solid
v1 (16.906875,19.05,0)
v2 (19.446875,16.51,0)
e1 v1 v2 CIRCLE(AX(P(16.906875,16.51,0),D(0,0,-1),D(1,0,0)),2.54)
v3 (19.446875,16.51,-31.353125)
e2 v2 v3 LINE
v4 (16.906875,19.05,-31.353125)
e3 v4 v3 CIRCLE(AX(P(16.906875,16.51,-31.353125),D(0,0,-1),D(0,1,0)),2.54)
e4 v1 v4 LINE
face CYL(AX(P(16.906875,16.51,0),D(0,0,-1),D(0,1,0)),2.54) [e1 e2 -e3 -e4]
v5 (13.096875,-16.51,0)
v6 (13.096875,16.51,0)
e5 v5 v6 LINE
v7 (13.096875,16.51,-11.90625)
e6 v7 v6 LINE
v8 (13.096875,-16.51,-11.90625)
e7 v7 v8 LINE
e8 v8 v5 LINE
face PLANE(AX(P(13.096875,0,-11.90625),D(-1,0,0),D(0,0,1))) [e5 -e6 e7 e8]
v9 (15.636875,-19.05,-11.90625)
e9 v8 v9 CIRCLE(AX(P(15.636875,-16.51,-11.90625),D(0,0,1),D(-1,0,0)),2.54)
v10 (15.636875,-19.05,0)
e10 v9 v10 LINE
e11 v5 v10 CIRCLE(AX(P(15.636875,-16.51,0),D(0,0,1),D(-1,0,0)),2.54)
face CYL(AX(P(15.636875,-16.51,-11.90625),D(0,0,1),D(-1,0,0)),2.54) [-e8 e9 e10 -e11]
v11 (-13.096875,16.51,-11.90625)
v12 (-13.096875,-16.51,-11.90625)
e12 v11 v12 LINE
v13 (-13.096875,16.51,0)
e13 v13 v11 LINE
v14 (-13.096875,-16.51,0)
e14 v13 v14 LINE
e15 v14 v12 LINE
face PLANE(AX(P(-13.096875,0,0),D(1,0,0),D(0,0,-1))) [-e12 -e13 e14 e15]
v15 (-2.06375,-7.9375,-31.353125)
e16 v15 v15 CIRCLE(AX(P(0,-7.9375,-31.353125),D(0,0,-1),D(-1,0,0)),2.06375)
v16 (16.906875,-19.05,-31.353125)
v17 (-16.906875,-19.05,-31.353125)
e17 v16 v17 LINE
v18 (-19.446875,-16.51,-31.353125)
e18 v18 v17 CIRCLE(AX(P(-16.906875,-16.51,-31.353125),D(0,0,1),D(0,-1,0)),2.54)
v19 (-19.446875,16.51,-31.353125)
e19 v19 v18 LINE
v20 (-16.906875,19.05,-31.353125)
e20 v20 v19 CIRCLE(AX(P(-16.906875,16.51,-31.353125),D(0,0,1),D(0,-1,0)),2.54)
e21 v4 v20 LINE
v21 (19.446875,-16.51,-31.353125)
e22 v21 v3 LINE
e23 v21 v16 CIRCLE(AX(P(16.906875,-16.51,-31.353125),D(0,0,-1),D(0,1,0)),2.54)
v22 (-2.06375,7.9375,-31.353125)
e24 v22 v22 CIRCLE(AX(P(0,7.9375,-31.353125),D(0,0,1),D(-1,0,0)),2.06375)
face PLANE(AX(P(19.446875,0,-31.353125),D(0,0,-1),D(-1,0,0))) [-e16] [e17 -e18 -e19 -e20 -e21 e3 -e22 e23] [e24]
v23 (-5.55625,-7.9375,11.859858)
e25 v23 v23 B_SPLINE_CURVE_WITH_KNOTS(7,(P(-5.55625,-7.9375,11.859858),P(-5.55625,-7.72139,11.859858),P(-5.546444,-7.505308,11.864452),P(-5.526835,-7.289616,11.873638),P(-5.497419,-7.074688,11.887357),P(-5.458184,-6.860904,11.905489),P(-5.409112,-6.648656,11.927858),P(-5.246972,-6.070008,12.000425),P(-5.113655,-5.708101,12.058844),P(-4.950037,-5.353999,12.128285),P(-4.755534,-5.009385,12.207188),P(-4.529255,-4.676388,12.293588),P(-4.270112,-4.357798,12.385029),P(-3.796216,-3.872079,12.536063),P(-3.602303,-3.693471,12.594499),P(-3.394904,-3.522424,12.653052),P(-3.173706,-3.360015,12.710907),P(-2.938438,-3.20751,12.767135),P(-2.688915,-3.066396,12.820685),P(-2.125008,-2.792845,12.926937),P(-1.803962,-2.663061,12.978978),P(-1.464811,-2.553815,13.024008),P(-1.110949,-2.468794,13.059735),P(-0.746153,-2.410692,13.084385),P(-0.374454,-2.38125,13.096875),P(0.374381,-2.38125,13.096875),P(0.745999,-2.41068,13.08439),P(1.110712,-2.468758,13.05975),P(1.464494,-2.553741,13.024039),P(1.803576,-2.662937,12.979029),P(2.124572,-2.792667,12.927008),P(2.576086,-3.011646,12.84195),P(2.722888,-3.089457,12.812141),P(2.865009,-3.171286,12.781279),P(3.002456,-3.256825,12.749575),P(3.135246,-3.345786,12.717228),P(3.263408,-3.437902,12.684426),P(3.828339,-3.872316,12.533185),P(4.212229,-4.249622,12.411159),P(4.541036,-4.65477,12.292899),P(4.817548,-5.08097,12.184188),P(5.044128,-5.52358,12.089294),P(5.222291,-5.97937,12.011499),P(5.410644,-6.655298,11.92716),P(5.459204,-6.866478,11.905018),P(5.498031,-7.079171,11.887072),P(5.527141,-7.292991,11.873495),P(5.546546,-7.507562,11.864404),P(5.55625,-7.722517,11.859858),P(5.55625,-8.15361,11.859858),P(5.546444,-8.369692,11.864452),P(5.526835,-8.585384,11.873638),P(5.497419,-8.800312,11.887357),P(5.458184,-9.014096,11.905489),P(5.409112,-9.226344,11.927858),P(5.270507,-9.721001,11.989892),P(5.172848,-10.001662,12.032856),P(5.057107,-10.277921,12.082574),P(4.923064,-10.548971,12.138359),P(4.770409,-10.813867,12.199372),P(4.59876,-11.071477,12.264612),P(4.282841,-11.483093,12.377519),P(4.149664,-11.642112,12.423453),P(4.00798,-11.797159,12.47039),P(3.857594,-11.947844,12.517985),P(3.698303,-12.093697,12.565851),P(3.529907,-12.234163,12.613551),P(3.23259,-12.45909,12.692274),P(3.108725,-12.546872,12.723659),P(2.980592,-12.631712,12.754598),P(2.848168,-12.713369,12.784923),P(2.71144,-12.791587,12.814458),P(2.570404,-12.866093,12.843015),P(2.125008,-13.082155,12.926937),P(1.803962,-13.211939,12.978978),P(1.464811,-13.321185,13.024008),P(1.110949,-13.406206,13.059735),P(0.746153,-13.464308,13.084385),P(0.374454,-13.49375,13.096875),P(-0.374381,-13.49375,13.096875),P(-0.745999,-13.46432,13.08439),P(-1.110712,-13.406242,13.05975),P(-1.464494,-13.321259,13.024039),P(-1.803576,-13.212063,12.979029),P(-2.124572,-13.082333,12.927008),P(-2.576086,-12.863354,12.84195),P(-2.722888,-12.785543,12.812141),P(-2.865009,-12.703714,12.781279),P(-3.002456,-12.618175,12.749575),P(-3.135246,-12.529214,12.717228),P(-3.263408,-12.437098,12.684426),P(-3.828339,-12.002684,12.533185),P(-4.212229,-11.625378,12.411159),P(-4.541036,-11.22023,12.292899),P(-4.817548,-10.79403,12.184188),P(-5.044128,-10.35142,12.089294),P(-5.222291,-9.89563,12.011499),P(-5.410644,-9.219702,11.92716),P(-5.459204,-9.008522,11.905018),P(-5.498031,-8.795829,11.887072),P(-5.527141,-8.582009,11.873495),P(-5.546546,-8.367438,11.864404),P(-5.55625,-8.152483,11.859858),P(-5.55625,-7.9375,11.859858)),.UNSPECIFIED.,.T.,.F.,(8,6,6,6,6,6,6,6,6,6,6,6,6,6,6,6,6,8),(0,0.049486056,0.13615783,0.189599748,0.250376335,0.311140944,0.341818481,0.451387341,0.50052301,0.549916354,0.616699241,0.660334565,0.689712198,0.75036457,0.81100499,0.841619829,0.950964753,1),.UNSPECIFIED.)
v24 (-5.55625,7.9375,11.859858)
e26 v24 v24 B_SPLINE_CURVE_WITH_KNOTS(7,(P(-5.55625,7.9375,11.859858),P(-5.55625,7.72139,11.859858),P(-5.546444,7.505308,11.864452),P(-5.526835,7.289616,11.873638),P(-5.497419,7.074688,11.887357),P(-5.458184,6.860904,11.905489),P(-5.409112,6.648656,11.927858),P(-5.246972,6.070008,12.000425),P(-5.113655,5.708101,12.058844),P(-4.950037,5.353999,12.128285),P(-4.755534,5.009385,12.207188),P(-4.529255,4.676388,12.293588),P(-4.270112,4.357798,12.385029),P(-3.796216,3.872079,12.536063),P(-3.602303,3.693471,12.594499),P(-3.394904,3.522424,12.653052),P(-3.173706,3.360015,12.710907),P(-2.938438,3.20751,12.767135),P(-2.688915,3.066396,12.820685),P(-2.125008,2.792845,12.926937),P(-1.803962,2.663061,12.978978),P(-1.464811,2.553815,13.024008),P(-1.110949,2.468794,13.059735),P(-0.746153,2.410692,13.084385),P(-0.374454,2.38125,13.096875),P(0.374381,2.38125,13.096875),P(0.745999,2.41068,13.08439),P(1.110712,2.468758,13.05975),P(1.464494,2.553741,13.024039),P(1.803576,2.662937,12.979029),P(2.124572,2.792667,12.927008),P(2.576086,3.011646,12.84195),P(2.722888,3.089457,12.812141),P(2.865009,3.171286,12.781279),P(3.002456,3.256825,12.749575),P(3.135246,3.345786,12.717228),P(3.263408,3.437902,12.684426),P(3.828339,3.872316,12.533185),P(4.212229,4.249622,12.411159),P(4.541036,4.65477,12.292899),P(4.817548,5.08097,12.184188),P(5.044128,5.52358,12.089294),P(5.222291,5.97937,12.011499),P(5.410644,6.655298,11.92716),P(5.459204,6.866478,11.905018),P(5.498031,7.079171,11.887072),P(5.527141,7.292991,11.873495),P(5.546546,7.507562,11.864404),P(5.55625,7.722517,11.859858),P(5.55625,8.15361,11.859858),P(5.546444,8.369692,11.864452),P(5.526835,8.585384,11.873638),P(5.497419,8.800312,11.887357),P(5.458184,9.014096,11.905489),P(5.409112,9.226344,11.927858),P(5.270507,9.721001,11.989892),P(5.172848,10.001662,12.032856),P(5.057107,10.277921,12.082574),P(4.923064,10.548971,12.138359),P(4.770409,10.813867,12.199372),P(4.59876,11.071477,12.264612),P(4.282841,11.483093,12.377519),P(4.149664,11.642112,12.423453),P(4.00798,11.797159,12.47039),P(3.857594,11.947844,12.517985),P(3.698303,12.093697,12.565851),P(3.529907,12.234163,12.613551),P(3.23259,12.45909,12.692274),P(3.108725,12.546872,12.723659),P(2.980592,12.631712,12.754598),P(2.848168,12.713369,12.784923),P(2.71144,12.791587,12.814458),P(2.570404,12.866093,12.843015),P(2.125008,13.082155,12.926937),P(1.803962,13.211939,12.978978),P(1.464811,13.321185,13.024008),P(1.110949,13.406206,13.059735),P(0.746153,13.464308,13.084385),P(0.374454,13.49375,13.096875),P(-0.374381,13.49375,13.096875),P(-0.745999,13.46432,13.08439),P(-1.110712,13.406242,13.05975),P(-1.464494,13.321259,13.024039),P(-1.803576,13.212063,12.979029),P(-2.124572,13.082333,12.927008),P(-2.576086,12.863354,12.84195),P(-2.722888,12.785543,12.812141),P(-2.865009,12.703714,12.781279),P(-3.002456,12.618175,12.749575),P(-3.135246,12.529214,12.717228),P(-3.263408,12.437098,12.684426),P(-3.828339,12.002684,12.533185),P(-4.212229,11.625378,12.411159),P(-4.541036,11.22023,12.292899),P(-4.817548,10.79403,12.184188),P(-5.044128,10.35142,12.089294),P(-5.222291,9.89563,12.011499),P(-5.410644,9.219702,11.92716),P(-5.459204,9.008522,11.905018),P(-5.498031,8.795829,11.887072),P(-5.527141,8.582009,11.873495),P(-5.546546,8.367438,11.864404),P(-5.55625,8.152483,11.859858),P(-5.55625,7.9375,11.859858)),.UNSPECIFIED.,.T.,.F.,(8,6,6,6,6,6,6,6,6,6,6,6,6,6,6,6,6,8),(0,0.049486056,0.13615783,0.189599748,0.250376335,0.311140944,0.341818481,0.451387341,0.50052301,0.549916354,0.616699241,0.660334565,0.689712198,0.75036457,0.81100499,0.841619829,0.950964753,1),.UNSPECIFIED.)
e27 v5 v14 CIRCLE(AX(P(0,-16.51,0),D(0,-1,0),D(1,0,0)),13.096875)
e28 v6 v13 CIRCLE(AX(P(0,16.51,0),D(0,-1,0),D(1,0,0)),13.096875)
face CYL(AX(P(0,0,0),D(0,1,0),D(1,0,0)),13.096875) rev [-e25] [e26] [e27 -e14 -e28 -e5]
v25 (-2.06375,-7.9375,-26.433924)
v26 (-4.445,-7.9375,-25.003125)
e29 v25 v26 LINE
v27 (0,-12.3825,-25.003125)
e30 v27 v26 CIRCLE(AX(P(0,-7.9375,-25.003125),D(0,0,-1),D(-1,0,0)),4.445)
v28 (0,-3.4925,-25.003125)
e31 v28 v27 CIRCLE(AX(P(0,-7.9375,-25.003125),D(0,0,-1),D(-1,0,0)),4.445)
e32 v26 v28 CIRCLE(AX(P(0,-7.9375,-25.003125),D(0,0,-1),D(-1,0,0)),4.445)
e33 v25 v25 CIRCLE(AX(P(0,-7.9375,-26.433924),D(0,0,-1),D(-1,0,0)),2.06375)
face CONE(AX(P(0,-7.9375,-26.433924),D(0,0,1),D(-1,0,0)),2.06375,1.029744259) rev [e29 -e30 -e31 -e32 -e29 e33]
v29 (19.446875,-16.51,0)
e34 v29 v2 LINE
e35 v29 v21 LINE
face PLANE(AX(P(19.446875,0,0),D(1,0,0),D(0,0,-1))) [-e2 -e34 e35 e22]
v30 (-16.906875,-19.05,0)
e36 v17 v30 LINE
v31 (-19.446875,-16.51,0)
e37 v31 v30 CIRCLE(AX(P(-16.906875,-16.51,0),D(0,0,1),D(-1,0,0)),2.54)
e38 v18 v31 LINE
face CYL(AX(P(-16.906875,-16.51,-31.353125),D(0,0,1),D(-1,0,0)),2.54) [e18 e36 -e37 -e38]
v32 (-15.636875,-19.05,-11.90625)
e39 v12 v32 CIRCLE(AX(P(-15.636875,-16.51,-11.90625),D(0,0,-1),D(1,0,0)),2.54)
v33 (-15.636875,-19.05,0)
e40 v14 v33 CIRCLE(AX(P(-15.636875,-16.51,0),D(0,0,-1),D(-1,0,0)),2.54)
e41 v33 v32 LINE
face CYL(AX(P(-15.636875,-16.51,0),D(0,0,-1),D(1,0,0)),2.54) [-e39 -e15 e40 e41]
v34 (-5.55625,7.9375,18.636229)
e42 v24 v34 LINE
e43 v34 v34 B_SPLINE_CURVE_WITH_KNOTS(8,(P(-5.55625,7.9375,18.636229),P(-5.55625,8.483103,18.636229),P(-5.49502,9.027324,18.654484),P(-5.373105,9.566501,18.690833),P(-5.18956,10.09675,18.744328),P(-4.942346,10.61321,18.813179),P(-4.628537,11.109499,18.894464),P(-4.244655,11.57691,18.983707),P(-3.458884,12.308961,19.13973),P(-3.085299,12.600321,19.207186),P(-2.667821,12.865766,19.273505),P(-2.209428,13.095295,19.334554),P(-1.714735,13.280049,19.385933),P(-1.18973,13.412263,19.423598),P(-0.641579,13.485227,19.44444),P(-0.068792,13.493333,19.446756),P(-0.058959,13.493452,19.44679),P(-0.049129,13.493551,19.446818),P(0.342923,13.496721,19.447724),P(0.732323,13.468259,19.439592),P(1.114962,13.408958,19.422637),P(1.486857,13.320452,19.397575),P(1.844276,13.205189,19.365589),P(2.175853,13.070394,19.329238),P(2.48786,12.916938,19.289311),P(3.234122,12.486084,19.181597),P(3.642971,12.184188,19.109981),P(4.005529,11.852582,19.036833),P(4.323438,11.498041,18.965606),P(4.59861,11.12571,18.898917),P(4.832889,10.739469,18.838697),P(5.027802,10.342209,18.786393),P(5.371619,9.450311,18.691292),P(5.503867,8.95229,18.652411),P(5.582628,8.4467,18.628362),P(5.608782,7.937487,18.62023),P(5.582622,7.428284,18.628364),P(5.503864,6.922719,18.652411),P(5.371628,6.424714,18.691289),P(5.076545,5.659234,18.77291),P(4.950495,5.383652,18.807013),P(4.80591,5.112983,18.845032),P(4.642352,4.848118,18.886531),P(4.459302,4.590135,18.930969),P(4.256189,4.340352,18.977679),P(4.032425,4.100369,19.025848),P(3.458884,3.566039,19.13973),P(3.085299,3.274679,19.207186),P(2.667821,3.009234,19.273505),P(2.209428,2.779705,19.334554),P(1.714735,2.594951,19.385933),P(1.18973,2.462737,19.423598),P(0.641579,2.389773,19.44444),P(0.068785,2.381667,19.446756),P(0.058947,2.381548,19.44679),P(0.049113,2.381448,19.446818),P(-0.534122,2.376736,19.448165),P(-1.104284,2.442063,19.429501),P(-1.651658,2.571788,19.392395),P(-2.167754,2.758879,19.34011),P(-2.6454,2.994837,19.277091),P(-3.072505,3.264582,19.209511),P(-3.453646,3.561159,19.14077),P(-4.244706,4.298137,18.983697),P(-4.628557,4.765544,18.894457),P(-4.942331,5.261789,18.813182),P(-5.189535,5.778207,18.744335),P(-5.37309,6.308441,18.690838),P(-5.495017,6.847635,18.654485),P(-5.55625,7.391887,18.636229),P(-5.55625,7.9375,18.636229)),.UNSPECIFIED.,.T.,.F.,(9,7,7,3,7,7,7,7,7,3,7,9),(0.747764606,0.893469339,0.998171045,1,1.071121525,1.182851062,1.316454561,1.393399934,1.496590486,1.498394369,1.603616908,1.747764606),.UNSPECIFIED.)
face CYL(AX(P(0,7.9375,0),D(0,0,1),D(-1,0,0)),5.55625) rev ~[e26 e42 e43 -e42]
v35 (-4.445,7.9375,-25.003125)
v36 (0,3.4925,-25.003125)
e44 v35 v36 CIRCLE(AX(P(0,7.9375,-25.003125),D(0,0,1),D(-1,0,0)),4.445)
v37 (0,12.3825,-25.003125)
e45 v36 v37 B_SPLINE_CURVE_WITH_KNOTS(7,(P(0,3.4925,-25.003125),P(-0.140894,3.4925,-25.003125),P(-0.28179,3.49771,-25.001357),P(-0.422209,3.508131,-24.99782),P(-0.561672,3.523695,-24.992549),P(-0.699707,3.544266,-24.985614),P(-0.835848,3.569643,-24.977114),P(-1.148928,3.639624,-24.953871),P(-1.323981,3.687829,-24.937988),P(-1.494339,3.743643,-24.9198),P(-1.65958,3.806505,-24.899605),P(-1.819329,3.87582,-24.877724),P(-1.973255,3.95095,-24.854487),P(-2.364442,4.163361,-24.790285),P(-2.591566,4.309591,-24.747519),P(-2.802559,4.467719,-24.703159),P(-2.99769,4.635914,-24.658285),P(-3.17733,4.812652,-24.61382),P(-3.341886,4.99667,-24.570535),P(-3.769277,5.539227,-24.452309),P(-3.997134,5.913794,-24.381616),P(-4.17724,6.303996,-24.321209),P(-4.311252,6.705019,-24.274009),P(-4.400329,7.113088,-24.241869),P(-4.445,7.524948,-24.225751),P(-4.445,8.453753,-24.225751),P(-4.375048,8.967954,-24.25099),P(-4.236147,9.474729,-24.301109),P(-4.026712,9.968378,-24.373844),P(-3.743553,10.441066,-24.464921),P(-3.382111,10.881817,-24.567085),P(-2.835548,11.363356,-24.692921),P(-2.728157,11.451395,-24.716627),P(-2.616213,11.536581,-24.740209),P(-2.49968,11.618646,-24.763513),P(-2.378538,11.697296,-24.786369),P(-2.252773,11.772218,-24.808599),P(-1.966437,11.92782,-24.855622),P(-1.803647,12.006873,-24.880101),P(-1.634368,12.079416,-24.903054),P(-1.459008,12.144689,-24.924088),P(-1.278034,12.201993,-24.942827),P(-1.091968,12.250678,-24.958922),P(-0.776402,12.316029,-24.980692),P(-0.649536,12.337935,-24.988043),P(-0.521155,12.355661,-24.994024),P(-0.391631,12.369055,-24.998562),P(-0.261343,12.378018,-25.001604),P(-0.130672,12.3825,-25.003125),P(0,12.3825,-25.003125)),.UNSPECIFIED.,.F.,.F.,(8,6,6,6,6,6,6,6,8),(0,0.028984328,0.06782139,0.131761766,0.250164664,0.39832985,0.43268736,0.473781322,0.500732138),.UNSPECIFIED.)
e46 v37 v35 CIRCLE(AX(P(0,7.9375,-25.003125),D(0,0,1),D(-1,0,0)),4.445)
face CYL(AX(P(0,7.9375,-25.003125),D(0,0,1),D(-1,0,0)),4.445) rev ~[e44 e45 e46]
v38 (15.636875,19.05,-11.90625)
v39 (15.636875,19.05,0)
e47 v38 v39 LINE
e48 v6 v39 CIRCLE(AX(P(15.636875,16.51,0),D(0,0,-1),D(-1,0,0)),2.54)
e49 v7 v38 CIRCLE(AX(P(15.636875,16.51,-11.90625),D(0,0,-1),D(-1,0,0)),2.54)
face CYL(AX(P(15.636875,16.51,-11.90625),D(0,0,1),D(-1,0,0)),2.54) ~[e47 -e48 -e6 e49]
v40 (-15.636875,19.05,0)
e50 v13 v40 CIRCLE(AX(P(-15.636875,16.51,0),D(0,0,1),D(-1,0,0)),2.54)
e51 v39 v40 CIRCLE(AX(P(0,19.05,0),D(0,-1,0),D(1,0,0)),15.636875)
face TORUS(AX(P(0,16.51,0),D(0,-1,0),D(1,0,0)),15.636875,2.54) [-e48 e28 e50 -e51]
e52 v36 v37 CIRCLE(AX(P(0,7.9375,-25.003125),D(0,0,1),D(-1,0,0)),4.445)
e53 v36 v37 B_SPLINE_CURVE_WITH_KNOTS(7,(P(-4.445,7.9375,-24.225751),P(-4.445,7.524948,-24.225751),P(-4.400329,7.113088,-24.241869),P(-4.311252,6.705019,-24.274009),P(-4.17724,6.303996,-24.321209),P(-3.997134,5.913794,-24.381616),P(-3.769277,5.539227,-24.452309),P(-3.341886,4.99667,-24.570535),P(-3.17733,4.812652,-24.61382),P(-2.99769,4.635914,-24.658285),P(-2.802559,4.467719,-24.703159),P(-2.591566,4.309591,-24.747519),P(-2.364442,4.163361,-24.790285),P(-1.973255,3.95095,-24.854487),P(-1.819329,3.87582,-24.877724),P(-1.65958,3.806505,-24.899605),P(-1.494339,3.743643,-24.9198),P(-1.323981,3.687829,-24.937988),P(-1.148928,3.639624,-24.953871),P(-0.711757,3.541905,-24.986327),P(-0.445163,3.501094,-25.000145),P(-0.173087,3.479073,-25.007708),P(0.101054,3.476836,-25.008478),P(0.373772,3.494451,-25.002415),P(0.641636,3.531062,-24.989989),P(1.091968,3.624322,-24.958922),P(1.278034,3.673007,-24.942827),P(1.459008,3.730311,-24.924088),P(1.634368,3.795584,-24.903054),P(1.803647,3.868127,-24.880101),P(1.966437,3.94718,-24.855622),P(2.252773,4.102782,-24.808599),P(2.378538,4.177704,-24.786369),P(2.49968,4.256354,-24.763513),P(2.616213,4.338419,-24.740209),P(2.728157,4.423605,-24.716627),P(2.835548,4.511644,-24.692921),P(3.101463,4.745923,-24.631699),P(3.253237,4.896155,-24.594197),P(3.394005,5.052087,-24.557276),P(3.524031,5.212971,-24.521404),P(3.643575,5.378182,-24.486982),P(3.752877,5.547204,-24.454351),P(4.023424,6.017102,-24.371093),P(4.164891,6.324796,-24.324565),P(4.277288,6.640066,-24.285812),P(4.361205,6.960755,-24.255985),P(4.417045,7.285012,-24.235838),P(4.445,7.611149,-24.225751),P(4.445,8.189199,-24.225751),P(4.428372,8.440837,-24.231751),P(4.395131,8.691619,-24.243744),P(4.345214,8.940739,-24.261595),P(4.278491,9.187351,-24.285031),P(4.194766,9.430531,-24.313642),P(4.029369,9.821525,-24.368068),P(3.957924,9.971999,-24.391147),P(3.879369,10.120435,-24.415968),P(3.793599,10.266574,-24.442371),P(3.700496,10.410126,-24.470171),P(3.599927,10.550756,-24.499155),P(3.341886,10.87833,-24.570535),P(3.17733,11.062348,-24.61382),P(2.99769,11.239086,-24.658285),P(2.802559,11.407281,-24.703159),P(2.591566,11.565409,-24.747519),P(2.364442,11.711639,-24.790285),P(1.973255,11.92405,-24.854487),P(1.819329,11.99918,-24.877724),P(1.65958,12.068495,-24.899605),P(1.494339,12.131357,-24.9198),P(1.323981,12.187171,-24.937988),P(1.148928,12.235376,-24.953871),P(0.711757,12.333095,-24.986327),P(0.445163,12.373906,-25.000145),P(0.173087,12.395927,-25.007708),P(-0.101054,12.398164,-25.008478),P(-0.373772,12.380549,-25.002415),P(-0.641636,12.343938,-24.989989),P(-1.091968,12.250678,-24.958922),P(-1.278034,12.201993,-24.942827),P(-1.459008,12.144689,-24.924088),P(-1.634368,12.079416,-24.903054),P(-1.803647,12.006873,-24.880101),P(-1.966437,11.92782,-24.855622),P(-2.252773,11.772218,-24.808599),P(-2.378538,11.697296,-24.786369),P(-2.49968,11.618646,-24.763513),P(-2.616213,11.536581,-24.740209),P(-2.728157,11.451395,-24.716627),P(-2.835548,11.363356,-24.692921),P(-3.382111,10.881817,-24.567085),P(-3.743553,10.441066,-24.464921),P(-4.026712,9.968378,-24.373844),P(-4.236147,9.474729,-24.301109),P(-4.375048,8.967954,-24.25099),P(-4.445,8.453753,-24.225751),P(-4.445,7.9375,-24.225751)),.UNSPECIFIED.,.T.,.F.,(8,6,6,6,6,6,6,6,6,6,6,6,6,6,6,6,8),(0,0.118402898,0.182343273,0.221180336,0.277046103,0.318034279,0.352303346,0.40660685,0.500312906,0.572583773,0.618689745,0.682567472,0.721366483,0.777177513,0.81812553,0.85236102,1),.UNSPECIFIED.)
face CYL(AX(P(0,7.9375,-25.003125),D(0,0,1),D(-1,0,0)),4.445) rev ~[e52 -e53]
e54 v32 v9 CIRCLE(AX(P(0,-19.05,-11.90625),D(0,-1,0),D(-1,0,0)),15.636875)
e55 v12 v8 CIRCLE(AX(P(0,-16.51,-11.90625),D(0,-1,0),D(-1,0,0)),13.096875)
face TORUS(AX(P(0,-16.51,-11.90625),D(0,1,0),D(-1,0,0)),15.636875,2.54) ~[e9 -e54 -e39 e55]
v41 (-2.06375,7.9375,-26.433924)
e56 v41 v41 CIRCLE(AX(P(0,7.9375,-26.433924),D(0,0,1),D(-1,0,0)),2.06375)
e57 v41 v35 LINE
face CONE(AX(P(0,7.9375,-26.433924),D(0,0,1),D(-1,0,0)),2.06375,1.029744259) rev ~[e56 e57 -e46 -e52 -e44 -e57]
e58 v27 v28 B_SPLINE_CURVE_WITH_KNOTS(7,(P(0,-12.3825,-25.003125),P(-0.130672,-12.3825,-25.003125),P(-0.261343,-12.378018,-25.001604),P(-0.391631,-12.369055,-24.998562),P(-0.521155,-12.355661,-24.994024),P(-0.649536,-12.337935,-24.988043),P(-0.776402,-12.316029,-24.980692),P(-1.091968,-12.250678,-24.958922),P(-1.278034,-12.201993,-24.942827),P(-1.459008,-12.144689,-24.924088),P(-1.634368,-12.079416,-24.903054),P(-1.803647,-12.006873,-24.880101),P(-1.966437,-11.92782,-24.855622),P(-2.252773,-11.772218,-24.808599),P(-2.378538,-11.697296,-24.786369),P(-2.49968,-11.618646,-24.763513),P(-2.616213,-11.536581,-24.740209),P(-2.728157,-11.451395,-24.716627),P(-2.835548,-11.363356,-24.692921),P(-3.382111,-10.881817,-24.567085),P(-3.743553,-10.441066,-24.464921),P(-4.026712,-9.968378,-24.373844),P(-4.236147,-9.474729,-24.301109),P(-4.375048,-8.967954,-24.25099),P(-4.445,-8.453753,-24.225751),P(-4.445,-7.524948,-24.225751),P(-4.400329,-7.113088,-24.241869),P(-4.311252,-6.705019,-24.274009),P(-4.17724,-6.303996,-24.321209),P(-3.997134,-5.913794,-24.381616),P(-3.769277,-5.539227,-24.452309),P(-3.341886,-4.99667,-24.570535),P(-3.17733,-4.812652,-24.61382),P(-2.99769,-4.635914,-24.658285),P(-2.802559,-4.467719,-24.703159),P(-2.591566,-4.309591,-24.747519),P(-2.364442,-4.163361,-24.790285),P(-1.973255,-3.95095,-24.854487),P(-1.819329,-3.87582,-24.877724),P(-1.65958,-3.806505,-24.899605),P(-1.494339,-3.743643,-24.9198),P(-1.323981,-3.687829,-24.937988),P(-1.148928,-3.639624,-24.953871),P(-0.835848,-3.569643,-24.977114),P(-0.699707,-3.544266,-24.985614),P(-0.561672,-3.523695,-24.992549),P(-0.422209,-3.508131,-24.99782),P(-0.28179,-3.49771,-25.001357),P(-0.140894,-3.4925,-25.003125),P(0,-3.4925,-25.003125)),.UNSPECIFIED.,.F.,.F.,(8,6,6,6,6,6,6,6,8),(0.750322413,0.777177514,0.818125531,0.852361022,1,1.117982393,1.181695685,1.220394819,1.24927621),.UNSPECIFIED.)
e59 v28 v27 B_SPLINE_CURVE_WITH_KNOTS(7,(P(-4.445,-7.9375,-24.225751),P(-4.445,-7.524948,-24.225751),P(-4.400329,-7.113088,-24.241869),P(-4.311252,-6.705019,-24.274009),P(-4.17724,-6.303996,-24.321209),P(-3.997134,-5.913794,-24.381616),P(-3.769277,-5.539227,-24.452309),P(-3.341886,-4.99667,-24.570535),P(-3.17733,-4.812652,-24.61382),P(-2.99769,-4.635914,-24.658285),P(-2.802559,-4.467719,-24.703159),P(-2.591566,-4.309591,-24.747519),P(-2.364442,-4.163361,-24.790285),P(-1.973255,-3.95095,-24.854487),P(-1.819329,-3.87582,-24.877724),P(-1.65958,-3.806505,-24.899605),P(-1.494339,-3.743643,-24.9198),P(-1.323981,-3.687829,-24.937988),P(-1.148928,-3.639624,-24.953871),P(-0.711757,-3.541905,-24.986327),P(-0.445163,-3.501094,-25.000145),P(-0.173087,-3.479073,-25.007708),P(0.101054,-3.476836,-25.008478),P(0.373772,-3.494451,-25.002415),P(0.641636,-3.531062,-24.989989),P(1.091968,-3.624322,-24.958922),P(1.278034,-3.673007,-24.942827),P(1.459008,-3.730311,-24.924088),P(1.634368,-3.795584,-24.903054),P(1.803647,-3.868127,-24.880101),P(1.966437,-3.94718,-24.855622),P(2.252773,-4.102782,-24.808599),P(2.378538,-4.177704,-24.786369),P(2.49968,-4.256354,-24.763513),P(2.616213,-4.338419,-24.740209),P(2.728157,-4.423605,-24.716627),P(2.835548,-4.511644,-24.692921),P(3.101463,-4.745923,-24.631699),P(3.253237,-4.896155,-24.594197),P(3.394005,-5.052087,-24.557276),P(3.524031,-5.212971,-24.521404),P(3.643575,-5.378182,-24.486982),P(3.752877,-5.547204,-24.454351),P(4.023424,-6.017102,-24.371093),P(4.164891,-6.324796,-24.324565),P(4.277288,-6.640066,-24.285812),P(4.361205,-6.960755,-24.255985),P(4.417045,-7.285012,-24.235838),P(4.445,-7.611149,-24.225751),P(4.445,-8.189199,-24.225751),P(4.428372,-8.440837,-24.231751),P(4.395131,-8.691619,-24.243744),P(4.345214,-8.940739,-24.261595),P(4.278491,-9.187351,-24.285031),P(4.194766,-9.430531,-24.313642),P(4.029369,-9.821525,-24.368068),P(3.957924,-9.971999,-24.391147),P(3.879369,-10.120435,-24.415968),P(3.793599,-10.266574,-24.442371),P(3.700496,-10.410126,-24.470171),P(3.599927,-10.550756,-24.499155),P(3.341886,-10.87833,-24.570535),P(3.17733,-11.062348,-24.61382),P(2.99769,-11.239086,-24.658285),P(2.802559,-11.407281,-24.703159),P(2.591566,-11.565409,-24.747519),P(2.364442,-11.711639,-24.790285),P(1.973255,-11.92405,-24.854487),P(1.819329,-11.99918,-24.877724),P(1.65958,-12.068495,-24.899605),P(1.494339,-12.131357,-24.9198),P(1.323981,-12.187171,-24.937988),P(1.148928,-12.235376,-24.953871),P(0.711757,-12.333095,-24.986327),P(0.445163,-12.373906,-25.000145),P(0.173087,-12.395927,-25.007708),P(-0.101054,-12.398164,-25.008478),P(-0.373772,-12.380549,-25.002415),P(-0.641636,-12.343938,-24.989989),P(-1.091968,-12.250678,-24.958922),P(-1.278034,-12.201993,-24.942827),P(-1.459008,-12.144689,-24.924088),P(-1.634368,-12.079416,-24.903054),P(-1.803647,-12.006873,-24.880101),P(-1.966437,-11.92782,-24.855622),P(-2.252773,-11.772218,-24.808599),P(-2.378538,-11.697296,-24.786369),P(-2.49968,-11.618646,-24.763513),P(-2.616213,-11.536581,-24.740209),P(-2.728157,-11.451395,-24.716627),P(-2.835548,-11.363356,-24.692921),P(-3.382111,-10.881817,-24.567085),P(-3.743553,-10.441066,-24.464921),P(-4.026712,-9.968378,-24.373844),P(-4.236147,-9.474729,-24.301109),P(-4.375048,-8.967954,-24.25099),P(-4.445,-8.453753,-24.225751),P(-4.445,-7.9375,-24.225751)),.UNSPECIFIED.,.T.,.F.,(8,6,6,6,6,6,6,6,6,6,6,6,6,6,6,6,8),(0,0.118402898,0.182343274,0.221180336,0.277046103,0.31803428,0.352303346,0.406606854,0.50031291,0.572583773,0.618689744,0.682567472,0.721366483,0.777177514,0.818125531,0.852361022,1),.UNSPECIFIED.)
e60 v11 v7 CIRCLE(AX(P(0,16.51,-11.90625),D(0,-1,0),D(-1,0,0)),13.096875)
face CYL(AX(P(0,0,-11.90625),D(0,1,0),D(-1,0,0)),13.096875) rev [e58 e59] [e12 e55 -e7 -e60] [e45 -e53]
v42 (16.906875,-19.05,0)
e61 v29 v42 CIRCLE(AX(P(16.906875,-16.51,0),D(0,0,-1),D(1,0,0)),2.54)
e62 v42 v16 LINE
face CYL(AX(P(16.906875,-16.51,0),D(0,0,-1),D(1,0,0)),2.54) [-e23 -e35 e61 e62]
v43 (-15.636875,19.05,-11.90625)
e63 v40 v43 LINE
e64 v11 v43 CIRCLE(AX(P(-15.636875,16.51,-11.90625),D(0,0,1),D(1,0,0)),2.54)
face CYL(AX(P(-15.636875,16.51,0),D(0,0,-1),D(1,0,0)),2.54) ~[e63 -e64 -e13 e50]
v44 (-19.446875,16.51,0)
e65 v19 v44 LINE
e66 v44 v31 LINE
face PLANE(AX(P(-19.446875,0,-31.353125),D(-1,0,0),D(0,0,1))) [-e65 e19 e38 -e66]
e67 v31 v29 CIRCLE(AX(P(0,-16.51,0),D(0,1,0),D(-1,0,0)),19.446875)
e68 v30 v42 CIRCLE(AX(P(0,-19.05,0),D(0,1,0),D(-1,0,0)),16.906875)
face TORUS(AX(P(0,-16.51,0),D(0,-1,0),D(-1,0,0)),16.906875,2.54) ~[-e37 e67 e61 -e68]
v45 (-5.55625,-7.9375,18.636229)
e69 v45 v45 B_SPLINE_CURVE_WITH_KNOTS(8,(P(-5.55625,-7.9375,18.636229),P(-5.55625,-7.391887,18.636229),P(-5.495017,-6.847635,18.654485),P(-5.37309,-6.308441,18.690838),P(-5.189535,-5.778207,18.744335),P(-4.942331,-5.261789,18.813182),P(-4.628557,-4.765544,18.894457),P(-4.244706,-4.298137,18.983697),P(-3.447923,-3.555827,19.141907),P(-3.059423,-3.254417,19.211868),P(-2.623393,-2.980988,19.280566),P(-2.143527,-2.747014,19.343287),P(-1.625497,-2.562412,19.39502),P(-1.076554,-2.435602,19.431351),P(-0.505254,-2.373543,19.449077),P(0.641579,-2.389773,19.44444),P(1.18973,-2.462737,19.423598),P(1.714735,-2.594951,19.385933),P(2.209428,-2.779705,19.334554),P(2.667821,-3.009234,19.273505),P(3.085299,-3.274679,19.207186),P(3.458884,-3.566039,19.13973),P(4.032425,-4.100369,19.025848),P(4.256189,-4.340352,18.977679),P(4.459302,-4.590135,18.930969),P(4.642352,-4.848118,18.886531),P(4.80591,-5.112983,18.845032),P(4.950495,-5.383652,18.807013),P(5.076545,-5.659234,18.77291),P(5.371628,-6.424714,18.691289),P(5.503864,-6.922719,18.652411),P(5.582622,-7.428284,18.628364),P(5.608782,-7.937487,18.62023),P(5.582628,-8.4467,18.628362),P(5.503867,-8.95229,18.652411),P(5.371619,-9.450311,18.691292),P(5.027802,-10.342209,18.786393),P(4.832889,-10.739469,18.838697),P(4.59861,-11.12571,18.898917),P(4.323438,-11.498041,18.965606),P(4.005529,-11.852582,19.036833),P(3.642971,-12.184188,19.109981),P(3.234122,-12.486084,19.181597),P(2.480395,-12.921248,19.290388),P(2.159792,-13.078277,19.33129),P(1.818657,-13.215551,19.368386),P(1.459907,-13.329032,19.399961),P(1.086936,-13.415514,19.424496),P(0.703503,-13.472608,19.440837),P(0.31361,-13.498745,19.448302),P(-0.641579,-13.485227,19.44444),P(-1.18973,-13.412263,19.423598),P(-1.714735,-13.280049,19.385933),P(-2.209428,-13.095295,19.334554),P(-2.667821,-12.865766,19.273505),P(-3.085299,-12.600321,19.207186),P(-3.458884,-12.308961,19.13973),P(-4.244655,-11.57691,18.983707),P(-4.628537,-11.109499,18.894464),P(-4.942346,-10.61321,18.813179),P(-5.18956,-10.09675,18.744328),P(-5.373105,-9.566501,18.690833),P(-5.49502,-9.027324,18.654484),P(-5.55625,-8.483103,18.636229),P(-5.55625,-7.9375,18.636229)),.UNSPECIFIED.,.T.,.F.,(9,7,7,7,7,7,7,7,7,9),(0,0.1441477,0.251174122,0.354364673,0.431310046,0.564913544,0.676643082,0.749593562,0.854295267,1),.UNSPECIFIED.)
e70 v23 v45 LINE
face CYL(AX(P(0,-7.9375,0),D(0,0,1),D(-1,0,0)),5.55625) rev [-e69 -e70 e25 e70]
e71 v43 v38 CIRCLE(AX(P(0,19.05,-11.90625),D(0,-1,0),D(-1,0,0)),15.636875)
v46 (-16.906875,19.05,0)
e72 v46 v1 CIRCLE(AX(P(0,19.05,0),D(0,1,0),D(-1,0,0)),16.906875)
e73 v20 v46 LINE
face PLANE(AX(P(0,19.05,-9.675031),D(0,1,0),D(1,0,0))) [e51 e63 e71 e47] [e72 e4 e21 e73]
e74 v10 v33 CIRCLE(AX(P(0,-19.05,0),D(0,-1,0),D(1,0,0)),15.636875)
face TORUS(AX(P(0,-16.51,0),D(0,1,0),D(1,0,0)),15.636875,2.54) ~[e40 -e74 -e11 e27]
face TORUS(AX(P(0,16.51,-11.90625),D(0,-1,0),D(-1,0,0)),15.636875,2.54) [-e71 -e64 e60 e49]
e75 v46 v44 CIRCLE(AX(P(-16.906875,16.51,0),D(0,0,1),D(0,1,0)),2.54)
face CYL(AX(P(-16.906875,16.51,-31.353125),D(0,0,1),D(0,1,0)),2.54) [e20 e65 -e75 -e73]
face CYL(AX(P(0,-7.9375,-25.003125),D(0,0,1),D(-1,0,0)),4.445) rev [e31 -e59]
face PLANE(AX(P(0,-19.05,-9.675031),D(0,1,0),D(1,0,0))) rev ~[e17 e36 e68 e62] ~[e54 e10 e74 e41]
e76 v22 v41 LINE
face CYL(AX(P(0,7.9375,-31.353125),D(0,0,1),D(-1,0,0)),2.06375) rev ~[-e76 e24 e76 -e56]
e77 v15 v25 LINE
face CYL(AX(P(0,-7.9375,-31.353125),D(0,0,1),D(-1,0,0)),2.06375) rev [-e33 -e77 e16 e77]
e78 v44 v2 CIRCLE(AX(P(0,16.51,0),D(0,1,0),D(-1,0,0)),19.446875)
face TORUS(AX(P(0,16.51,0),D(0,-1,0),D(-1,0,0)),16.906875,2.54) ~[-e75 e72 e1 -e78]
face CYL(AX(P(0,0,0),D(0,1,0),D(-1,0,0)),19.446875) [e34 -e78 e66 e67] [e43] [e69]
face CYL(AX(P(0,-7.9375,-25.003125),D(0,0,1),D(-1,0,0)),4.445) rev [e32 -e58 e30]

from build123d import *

# Parameters (mm, degrees)
BOSS_EXTRUDE1_DEPTH = 19.05
FILLET1_R           = 2.54


with BuildPart() as part:
    # Sketch1 → Boss-Extrude1 (new, symmetric)
    with BuildSketch(Plane(origin=(0, 0, 0), x_dir=(1, 0, 0), z_dir=(0, 1, 0))):
        with BuildLine():
            ThreePointArc((-19.446875, 0), (0, -19.446875), (19.446875, 0))
            Line((19.446875, 0), (19.446875, 31.353125))
            Line((19.446875, 31.353125), (-19.446875, 31.353125))
            Line((-19.446875, 31.353125), (-19.446875, 0))
        make_face()
        with BuildLine():
            ThreePointArc((13.096875, 0), (0, -13.096875), (-13.096875, 0))
            Line((-13.096875, 0), (-13.096875, 11.90625))
            ThreePointArc((-13.096875, 11.90625), (0, 25.003125), (13.096875, 11.90625))
            Line((13.096875, 11.90625), (13.096875, 0))
        make_face(mode=Mode.SUBTRACT)
    extrude(amount=BOSS_EXTRUDE1_DEPTH, both=True)

    # Sketch2 → Cut-Revolve1 (revolve, cut)
    with BuildSketch(Plane(origin=(0, 7.9375, 0), x_dir=(1, 0, 0), z_dir=(0, 1, 0))):
        Polygon((-2.06375, 31.353125), (-2.06375, 26.433924349), (-4.445, 25.003125), (-4.445, 0), (-5.55625, 0), (-5.55625, -19.446875), (-4.445, -19.446875), (0, -19.446875), (0, 31.353125), align=None)
    cut_revolve1 = revolve(axis=Axis((0, 7.9375, -28.179060189), (0, 0, 1)), mode=Mode.SUBTRACT)

    # Mirror1: Cut-Revolve1 across plane
    add(cut_revolve1.mirror(Plane.ZX), mode=Mode.SUBTRACT)

    # Fillet1
    fillet1_edges = [part.edges().sort_by_distance(p)[0] for p in [
        (19.446875, -19.05, -15.6765625),
        (0, -19.05, 19.446875),
        (13.096875, -19.05, -5.953125),
        (0, -19.05, 13.096875),
        (-13.096875, -19.05, -5.953125),
        (13.096875, 19.05, -5.953125),
        (0, 19.05, 13.096875),
        (-13.096875, 19.05, -5.953125),
        (19.446875, 19.05, -15.6765625),
        (0, 19.05, 19.446875),
        (-19.446875, -19.05, -15.6765625),
        (0, -19.05, -25.003125),
        (0, 19.05, -25.003125),
        (-19.446875, 19.05, -15.6765625),
    ]]
    fillet(fillet1_edges, radius=FILLET1_R)


solid = part.part
